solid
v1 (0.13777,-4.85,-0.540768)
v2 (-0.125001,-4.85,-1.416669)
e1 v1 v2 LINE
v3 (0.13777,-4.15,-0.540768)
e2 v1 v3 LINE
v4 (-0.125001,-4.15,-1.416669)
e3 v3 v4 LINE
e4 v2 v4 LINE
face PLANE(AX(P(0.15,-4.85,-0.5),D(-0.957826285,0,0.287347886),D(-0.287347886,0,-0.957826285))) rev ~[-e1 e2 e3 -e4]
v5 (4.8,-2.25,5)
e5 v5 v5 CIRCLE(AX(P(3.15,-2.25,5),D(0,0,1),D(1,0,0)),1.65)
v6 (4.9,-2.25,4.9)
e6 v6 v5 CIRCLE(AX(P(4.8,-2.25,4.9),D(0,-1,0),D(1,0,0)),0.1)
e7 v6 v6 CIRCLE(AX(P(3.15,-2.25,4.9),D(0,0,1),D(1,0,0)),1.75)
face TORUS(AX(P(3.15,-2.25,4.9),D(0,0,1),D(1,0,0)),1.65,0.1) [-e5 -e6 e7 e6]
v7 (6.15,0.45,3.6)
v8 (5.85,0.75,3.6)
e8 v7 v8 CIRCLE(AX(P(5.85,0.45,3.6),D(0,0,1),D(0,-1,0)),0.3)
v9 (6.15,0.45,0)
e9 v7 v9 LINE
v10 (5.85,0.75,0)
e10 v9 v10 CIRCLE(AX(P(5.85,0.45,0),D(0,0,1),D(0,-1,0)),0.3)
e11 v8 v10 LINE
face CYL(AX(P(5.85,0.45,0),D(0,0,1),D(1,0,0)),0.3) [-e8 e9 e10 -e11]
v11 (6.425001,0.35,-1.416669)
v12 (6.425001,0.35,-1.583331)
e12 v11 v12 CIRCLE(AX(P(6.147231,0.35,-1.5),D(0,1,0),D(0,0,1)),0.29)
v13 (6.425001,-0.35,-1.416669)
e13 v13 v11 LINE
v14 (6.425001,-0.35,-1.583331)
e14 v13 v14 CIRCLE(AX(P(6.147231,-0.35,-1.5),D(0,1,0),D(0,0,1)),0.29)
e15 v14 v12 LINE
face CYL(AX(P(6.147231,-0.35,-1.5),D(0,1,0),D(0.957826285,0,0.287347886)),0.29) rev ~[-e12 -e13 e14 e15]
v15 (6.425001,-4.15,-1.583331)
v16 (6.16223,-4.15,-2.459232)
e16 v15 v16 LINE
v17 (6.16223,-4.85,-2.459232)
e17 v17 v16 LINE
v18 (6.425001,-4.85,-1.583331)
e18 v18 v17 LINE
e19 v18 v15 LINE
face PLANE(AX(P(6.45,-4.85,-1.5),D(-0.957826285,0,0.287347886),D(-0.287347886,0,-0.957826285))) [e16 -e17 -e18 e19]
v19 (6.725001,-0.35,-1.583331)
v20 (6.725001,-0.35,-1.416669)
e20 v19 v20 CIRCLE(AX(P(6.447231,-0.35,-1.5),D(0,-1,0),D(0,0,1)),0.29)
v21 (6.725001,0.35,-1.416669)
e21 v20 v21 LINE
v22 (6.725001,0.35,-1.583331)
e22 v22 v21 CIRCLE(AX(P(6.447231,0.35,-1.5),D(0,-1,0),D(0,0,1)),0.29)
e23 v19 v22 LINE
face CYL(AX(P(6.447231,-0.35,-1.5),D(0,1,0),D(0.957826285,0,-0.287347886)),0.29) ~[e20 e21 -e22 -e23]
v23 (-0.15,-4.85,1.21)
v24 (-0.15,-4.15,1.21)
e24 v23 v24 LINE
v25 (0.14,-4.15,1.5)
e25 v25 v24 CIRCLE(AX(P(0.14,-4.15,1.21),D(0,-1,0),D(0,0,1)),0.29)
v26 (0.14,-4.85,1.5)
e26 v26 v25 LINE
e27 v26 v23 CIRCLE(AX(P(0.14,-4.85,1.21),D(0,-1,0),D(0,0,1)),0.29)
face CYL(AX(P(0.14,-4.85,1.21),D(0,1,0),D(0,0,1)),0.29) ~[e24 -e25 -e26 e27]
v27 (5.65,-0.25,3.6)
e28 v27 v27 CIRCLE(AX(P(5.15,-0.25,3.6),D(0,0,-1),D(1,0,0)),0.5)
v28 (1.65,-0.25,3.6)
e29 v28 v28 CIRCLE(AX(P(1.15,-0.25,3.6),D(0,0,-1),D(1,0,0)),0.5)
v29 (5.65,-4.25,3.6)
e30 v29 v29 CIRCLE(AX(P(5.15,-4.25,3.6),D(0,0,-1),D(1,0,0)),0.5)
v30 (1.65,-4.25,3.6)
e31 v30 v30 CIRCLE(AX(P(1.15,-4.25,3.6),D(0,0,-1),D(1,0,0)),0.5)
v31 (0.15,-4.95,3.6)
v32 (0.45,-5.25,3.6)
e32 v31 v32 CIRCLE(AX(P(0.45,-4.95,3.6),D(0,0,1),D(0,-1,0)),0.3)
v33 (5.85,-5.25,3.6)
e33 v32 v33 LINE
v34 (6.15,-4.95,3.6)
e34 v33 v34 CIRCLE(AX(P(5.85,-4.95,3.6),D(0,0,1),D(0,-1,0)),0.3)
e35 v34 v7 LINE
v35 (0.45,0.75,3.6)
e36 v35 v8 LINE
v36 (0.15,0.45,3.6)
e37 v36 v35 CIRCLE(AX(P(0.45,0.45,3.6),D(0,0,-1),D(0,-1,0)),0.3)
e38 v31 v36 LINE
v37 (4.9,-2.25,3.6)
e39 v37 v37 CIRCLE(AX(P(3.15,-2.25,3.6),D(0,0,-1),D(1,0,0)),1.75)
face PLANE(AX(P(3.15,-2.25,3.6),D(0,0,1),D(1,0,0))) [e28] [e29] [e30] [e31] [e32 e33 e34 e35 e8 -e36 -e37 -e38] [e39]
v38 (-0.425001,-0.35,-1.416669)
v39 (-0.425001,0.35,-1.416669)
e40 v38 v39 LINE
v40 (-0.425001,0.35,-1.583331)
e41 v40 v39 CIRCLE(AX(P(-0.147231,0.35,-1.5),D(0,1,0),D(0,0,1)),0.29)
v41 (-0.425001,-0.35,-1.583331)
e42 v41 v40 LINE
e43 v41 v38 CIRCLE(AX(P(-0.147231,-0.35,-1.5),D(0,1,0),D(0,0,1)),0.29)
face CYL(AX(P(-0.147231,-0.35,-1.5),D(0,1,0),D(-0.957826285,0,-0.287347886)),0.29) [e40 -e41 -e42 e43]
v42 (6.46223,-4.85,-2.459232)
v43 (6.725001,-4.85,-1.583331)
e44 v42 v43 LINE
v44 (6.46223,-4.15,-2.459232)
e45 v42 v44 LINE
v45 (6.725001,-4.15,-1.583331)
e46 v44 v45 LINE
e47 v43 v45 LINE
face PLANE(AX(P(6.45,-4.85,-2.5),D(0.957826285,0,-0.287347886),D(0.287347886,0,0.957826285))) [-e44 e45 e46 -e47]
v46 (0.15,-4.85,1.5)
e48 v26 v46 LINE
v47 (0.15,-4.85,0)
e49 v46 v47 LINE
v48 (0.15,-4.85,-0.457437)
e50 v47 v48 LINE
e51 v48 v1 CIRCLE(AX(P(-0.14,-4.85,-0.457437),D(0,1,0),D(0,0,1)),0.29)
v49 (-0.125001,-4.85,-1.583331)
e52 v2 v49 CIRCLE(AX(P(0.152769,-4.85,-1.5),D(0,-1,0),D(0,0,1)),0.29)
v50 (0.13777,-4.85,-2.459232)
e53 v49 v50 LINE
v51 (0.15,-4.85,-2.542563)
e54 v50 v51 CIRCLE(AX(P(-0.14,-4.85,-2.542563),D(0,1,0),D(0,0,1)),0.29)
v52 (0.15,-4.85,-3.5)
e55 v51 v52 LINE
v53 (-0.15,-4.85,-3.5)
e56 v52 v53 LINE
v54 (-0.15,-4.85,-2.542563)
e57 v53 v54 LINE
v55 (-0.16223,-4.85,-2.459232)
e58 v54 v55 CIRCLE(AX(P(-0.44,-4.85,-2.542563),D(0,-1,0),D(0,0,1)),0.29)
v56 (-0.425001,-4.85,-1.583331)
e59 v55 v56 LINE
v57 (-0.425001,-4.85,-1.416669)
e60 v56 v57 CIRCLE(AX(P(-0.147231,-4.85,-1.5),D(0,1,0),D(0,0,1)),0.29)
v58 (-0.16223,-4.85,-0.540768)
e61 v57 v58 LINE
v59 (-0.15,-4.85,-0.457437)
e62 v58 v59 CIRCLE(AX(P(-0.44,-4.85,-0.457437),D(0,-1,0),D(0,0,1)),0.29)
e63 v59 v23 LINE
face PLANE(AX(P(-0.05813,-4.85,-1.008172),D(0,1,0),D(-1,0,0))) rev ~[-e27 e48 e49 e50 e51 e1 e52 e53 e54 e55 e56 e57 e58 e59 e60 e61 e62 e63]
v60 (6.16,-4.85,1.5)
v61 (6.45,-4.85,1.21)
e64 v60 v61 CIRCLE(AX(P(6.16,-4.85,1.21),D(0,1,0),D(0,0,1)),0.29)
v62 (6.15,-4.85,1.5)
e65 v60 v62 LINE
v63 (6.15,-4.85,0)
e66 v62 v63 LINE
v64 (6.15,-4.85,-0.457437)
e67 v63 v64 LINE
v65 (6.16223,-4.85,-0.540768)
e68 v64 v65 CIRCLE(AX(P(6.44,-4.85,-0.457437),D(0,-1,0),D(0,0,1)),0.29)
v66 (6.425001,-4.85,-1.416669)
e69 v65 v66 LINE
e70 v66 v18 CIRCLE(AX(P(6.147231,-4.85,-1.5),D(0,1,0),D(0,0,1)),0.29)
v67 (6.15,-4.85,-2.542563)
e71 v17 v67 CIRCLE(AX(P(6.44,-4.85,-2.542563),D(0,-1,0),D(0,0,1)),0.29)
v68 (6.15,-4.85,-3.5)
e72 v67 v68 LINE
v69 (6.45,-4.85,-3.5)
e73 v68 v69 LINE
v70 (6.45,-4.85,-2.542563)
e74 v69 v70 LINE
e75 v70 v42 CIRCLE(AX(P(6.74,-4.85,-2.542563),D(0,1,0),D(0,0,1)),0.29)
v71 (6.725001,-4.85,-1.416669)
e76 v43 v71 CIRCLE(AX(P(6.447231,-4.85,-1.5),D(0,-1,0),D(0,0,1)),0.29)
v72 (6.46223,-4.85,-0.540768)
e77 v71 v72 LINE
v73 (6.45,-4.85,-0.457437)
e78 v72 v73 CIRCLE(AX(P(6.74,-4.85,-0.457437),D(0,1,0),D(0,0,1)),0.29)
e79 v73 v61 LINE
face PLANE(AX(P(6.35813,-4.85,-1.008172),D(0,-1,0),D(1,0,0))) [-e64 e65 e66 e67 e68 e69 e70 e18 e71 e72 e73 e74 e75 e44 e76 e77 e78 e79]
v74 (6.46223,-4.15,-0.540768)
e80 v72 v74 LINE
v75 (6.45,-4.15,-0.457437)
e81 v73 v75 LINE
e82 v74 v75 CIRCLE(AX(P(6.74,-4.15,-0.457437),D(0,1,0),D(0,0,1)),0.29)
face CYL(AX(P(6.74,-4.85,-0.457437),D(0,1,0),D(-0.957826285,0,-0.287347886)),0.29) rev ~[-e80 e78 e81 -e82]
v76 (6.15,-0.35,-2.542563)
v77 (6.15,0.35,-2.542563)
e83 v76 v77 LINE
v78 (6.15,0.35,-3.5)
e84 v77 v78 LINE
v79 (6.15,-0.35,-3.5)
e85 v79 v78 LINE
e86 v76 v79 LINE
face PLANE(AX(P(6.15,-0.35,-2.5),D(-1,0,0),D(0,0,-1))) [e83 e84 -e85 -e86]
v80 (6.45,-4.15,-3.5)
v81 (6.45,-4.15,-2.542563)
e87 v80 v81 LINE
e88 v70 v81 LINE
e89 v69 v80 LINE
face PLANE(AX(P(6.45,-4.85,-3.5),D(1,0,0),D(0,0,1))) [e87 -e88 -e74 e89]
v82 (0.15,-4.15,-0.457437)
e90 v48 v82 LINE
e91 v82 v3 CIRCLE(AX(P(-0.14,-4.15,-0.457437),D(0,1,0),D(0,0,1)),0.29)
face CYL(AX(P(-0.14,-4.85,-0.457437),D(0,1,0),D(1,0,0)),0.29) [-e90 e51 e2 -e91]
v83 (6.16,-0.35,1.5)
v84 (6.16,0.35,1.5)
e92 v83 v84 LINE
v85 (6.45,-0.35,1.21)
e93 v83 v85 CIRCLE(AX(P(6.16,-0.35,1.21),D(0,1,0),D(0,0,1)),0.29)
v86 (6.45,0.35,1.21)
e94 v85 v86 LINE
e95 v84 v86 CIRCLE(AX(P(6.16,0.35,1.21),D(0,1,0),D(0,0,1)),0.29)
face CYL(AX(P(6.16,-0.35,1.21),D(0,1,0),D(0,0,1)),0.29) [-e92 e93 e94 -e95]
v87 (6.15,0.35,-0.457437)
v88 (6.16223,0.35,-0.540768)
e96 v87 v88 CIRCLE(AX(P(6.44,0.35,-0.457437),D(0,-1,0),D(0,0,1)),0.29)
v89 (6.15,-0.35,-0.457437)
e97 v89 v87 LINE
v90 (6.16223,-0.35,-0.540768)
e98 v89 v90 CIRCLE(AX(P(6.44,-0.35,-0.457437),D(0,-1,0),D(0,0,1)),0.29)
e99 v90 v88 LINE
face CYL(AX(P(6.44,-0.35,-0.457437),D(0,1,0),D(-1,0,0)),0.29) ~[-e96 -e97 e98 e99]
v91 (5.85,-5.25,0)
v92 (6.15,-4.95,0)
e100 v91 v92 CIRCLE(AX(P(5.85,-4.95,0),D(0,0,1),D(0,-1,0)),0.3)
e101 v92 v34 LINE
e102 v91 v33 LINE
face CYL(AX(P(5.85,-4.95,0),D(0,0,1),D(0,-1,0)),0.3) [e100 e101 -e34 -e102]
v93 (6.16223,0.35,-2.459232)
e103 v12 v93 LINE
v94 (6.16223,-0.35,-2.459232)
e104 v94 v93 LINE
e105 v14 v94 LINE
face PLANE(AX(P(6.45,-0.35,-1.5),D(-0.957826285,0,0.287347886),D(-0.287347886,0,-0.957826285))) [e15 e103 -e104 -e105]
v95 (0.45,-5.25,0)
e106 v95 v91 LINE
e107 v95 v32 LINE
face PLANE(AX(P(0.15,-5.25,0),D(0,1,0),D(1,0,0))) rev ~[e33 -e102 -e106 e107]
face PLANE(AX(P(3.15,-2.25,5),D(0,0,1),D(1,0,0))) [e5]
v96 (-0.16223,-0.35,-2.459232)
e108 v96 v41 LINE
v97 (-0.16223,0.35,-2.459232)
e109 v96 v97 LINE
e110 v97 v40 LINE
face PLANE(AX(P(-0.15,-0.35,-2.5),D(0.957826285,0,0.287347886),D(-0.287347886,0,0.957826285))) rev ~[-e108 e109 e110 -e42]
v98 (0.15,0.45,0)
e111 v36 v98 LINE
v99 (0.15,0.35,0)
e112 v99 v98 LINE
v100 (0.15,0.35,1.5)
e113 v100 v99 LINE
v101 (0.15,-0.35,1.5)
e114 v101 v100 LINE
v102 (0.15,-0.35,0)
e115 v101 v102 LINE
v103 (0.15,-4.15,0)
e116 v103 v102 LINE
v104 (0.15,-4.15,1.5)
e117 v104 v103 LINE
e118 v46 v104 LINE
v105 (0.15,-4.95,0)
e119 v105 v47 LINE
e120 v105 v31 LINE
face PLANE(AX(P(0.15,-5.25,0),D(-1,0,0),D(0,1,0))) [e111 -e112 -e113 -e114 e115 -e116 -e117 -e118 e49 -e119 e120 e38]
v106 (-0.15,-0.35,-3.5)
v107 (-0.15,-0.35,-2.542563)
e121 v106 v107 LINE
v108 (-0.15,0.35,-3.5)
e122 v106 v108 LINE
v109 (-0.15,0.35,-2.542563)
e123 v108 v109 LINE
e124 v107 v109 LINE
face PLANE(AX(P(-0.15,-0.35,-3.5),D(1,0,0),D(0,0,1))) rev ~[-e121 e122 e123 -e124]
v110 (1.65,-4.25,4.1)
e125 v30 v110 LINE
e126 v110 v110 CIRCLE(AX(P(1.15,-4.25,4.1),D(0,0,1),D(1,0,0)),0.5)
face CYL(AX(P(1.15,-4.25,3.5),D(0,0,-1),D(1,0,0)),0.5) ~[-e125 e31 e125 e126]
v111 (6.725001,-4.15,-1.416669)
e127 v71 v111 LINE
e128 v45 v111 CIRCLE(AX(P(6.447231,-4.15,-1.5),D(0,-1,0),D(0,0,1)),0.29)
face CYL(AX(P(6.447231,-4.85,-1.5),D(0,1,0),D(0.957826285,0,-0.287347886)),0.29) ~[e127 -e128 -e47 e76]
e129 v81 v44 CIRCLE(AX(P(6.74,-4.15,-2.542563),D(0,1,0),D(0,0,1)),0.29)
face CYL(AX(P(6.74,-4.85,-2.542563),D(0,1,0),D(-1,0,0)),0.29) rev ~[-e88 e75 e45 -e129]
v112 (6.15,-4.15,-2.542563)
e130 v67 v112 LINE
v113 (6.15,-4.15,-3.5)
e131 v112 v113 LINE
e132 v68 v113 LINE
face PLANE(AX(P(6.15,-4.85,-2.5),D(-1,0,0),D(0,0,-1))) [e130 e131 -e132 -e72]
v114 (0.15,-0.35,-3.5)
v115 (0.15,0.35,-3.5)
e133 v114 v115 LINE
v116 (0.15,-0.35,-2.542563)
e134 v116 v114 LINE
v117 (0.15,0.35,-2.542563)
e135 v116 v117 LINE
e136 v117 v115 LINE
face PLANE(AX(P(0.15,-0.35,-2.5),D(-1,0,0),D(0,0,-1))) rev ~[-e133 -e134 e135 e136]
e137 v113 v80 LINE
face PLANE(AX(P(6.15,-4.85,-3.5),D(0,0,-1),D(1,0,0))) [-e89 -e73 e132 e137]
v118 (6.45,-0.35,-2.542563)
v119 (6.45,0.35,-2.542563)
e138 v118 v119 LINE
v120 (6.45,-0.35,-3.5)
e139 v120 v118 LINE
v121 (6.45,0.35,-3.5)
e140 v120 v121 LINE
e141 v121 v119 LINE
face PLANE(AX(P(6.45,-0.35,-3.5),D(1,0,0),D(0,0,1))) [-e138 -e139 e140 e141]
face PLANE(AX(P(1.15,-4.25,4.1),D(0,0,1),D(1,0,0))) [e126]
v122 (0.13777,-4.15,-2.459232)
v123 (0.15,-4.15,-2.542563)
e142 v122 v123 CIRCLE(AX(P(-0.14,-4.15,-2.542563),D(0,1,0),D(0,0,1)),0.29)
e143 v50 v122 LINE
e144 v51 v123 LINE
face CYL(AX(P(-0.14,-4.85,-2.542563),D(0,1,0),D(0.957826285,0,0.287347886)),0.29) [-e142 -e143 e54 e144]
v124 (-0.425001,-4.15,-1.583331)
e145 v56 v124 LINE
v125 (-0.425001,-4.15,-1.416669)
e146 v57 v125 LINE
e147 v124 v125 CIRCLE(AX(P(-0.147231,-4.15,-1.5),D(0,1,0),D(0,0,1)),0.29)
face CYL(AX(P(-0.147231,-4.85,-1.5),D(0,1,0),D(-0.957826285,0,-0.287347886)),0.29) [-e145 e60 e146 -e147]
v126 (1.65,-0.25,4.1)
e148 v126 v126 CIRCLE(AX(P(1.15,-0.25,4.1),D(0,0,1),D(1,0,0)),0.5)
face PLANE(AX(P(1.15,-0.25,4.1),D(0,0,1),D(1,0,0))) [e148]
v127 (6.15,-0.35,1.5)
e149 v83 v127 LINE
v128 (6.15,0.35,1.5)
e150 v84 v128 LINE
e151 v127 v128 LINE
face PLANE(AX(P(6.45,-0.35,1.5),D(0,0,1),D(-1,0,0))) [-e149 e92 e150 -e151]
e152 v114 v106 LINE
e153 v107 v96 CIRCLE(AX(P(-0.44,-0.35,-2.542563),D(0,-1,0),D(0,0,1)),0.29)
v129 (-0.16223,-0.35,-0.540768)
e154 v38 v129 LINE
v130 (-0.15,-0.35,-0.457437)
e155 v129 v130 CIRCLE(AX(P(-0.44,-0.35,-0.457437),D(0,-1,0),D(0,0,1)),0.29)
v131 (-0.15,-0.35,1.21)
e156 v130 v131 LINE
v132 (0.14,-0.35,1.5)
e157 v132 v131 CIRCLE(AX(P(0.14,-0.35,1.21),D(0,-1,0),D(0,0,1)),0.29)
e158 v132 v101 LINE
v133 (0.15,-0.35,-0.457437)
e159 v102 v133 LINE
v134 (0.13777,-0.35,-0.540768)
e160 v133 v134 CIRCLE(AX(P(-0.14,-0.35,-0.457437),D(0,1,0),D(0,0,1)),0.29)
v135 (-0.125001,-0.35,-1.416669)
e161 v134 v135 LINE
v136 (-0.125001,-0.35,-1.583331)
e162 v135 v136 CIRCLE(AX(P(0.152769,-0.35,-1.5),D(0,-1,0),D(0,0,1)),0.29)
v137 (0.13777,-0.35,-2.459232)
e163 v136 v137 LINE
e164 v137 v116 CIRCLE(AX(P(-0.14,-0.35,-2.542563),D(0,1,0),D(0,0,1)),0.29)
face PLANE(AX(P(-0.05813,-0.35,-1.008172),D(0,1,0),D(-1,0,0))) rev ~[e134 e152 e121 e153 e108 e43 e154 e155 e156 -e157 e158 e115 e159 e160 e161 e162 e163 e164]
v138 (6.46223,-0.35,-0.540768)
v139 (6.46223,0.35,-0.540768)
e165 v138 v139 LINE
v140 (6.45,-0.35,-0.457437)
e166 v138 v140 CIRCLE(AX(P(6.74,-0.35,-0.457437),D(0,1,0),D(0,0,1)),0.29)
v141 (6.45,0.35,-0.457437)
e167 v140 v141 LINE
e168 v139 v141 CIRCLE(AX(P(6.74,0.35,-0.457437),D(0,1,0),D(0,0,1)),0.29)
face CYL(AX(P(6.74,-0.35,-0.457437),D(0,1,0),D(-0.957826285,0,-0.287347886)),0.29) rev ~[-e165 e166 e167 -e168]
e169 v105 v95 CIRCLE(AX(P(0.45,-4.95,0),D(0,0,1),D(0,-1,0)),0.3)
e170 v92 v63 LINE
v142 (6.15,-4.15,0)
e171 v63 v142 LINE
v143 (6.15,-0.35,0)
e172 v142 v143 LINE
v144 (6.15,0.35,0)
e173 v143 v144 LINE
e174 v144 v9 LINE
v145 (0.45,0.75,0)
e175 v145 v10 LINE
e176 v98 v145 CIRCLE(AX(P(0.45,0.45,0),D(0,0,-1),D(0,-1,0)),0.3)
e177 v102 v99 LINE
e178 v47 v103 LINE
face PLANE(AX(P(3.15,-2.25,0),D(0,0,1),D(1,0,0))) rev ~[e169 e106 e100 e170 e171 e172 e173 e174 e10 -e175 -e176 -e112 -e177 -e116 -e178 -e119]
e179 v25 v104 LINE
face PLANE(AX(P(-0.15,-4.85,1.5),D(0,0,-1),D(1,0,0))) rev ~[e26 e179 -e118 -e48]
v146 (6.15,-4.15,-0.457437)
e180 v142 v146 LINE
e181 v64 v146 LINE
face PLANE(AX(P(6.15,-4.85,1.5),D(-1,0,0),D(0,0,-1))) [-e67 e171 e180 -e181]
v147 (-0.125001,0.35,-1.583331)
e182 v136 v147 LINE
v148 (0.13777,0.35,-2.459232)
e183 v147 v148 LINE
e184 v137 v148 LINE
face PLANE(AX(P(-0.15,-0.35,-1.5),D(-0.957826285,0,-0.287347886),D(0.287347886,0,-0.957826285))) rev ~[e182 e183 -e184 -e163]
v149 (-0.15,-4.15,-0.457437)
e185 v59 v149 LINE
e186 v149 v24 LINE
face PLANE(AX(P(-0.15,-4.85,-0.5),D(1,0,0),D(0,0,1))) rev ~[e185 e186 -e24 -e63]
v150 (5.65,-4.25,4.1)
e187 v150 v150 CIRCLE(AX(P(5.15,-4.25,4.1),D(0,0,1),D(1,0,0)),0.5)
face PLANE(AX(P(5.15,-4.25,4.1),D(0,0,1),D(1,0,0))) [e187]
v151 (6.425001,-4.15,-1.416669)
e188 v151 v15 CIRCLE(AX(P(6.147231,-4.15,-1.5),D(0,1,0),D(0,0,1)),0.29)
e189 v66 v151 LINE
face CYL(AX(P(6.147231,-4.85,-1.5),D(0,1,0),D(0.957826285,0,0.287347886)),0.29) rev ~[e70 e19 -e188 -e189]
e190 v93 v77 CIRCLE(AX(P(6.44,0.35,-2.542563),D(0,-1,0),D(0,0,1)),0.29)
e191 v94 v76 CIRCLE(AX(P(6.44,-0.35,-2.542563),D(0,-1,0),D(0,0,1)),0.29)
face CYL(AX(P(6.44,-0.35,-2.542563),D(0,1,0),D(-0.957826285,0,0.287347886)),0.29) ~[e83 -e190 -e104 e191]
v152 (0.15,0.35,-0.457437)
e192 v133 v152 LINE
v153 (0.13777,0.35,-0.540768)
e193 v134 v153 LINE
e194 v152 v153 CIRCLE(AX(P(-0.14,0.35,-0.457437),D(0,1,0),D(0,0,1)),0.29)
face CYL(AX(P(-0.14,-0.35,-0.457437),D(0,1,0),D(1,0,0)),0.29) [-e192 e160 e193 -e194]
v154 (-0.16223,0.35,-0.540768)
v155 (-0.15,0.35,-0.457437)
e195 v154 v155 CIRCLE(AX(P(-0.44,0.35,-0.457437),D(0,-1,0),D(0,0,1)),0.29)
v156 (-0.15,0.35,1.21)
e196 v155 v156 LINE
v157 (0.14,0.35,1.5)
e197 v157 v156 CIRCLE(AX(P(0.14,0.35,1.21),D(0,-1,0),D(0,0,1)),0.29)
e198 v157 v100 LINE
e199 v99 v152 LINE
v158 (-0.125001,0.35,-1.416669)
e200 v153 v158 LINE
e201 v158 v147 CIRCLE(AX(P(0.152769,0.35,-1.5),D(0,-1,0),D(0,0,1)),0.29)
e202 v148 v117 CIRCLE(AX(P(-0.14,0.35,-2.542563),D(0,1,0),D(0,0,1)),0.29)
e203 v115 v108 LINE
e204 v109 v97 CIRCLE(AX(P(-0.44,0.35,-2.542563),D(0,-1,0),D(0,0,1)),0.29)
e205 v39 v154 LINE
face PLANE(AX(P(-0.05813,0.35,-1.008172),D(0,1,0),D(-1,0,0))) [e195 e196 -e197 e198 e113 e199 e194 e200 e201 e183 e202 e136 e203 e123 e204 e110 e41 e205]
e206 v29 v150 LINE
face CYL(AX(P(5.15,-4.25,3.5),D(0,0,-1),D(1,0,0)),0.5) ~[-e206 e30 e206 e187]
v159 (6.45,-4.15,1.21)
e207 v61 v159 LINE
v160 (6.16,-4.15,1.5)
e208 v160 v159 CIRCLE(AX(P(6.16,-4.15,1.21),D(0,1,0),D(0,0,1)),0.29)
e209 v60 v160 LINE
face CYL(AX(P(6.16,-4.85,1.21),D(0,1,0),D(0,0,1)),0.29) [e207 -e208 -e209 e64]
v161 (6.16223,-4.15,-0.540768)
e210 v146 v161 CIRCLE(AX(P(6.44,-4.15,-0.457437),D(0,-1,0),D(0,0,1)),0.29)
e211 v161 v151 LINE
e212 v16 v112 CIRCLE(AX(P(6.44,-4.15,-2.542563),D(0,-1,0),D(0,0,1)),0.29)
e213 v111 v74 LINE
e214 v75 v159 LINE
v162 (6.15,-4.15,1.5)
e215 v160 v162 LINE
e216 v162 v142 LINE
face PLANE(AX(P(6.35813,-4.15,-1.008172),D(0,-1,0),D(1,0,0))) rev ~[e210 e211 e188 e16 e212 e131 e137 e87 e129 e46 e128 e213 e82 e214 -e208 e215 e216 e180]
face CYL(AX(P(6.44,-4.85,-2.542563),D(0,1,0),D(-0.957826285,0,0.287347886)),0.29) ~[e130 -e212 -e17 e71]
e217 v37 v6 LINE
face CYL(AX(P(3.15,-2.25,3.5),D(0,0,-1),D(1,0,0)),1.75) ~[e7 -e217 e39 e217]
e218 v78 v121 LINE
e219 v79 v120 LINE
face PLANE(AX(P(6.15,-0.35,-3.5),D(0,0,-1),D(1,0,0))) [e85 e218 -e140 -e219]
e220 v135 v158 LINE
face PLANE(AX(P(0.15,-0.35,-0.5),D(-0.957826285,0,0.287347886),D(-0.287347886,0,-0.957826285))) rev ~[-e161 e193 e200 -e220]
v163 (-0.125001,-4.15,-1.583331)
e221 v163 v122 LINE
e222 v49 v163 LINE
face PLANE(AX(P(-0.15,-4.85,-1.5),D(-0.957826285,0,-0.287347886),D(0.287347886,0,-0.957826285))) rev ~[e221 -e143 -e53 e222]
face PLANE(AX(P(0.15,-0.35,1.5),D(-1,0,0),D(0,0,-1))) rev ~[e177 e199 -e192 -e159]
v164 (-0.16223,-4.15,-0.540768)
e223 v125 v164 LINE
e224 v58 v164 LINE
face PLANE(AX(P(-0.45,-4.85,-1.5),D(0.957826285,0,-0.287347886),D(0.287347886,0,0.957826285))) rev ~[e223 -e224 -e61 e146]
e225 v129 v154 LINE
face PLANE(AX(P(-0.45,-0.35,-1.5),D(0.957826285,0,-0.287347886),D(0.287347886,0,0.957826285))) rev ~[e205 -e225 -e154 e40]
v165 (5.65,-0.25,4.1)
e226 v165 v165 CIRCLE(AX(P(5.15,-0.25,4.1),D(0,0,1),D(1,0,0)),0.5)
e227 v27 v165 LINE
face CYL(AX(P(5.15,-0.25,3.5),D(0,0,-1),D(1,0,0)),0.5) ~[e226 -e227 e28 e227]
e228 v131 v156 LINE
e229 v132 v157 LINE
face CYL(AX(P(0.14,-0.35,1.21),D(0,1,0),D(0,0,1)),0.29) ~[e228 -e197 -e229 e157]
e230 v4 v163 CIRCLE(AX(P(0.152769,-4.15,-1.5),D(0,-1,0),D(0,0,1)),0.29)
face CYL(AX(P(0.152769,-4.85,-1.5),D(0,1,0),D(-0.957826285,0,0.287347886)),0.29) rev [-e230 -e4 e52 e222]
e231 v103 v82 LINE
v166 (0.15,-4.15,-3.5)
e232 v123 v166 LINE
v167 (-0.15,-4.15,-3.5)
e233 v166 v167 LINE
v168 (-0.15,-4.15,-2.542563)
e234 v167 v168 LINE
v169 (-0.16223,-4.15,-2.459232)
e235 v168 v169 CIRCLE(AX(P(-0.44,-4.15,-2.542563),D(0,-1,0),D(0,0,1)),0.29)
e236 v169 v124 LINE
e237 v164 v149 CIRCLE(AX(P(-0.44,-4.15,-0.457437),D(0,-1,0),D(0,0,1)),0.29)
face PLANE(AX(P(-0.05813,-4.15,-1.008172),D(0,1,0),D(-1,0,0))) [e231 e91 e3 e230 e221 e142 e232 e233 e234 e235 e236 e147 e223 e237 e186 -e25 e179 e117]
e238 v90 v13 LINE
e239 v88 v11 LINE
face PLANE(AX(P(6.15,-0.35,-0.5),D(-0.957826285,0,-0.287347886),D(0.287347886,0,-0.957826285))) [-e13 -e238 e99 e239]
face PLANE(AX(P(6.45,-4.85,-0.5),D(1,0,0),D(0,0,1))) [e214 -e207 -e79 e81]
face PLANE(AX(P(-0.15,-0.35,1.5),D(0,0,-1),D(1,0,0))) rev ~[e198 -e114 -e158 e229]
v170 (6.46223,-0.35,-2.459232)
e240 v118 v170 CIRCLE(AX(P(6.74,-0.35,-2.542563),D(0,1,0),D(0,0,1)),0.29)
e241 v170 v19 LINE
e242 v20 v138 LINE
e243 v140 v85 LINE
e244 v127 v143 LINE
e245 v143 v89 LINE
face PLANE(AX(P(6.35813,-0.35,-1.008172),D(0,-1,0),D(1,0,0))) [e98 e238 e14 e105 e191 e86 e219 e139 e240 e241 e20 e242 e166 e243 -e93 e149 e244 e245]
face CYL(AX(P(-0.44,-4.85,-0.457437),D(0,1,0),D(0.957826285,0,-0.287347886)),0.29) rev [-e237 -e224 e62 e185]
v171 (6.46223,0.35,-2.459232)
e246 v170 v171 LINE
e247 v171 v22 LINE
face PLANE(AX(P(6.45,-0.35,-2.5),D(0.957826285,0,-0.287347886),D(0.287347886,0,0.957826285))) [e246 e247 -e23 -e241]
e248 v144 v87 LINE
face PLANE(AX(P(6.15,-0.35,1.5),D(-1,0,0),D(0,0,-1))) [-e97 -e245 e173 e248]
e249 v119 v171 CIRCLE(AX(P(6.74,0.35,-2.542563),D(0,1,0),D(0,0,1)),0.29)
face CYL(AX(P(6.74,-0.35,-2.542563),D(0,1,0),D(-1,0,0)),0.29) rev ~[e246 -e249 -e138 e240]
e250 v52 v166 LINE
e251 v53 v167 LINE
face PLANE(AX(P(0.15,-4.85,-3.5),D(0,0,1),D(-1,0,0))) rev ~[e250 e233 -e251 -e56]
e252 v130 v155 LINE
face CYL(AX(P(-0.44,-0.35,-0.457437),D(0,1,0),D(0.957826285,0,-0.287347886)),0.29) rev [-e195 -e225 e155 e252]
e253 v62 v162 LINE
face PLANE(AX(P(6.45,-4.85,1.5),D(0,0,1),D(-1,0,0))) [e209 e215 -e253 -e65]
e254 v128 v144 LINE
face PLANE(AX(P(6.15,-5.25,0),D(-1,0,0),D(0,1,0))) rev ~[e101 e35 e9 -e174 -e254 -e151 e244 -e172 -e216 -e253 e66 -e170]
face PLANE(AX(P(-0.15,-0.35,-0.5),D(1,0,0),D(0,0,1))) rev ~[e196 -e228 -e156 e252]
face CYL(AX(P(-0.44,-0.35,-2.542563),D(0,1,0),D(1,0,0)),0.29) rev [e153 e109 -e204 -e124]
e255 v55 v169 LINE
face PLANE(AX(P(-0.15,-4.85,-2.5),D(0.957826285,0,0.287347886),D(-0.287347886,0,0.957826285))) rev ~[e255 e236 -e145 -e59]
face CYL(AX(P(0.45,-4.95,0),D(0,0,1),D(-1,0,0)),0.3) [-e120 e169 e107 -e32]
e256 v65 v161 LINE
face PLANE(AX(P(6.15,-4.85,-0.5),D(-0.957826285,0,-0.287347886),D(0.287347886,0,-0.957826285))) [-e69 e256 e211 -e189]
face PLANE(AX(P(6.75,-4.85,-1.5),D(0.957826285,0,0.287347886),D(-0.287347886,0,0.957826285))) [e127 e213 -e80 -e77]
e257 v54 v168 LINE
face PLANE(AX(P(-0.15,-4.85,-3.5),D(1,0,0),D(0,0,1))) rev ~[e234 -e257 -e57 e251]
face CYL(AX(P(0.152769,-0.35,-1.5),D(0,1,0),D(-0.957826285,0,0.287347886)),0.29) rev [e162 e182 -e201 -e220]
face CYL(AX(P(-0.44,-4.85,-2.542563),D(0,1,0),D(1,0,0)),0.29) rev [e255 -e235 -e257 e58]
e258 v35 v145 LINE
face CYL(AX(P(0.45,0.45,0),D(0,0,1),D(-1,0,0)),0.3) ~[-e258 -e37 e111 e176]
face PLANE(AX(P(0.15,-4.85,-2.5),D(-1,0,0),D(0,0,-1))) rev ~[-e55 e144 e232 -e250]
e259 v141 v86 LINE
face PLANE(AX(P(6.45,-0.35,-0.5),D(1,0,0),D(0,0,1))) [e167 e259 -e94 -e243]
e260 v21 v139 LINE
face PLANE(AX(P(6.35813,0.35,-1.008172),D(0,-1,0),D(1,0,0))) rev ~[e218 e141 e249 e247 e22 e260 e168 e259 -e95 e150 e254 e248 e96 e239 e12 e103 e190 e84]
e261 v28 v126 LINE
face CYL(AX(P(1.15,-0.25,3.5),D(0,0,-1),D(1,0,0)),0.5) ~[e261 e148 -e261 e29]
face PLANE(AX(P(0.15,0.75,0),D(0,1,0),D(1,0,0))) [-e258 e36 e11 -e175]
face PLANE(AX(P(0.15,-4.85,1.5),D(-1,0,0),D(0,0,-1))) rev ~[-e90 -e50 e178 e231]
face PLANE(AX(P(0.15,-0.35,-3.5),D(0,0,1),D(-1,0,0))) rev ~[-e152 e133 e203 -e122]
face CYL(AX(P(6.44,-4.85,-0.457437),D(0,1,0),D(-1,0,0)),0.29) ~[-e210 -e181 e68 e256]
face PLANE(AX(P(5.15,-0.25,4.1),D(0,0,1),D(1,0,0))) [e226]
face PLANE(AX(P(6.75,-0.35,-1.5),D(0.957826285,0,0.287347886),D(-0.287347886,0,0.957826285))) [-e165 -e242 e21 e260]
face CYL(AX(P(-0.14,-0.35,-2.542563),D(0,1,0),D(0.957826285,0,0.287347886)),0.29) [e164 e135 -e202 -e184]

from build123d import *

# Parameters (mm, degrees)
SKETCH001_W  = 6
SKETCH001_H  = 6
PAD001_DEPTH = 0.1
FILLET001_R  = 0.3
PAD008_DEPTH = 0.7
FILLET003_R  = 0.29
PAD009_DEPTH = 0.7
FILLET004_R  = 0.29
PAD010_DEPTH = 0.7
FILLET005_R  = 0.29
SKETCH_W     = 6
SKETCH_H     = 6
PAD_DEPTH    = 3.5
FILLET_R     = 0.3
SKETCH004_R  = 0.5
PAD003_DEPTH = 0.6
SKETCH003_R  = 0.5
PAD004_DEPTH = 0.6
SKETCH005_R  = 0.5
PAD002_DEPTH = 0.6
SKETCH002_R  = 0.5
PAD005_DEPTH = 0.6
SKETCH006_R  = 1.75
PAD006_DEPTH = 1.5
FILLET006_R  = 0.1
PAD007_DEPTH = 0.7
FILLET002_R  = 0.29


with BuildPart() as fillet001:
    # Sketch001 → Pad001 (new body)
    with BuildSketch(Plane.XY.offset(3.5)):
        with Locations((3.15, -2.25)):
            Rectangle(SKETCH001_W, SKETCH001_H)
    extrude(amount=PAD001_DEPTH)

    # Fillet001
    fillet001_edges = [fillet001.edges().sort_by_distance(p)[0] for p in [
        (6.15, -5.25, 3.55),
        (0.15, -5.25, 3.55),
        (6.15, 0.75, 3.55),
        (0.15, 0.75, 3.55),
    ]]
    fillet(fillet001_edges, radius=FILLET001_R)


with BuildPart() as fillet003:
    # Sketch008 → Pad008 (new body)
    with BuildSketch(Plane.XZ.offset(0.35)):
        Polygon((-0.15, 1.5), (0.15, 1.5), (0.15, -0.5), (-0.15, -1.5), (0.15, -2.5), (0.15, -3.5), (-0.15, -3.5), (-0.15, -2.5), (-0.45, -1.5), (-0.15, -0.5), align=None)
    extrude(amount=-PAD008_DEPTH)

    # Fillet003
    fillet003_edges = [fillet003.edges().sort_by_distance(p)[0] for p in [
        (-0.15, 0, -2.5),
        (-0.15, 0, -0.5),
        (-0.45, 0, -1.5),
        (-0.15, 0, 1.5),
        (0.15, 0, -0.5),
        (-0.15, 0, -1.5),
        (0.15, 0, -2.5),
    ]]
    fillet(fillet003_edges, radius=FILLET003_R)


with BuildPart() as fillet004:
    # Sketch009 → Pad009 (new body)
    with BuildSketch(Plane.XZ.offset(4.85)):
        Polygon((6.45, 1.5), (6.15, 1.5), (6.15, -0.5), (6.45, -1.5), (6.15, -2.5), (6.15, -3.5), (6.45, -3.5), (6.45, -2.5), (6.75, -1.5), (6.45, -0.5), align=None)
    extrude(amount=-PAD009_DEPTH)

    # Fillet004
    fillet004_edges = [fillet004.edges().sort_by_distance(p)[0] for p in [
        (6.45, -4.5, -2.5),
        (6.45, -4.5, -0.5),
        (6.75, -4.5, -1.5),
        (6.45, -4.5, 1.5),
        (6.15, -4.5, -0.5),
        (6.45, -4.5, -1.5),
        (6.15, -4.5, -2.5),
    ]]
    fillet(fillet004_edges, radius=FILLET004_R)


with BuildPart() as fillet005:
    # Sketch010 → Pad010 (new body)
    with BuildSketch(Plane.XZ.offset(0.35)):
        Polygon((6.45, 1.5), (6.15, 1.5), (6.15, -0.5), (6.45, -1.5), (6.15, -2.5), (6.15, -3.5), (6.45, -3.5), (6.45, -2.5), (6.75, -1.5), (6.45, -0.5), align=None)
    extrude(amount=-PAD010_DEPTH)

    # Fillet005
    fillet005_edges = [fillet005.edges().sort_by_distance(p)[0] for p in [
        (6.45, 0, -2.5),
        (6.45, 0, -0.5),
        (6.75, 0, -1.5),
        (6.45, 0, 1.5),
        (6.15, 0, -0.5),
        (6.45, 0, -1.5),
        (6.15, 0, -2.5),
    ]]
    fillet(fillet005_edges, radius=FILLET005_R)


with BuildPart() as fillet_body:
    # Sketch → Pad (new body)
    with BuildSketch(Plane.XY):
        with Locations((3.15, -2.25)):
            Rectangle(SKETCH_W, SKETCH_H)
    extrude(amount=PAD_DEPTH)

    # Fillet
    fillet_edges = [fillet_body.edges().sort_by_distance(p)[0] for p in [
        (6.15, 0.75, 1.75),
        (6.15, -5.25, 1.75),
        (0.15, -5.25, 1.75),
        (0.15, 0.75, 1.75),
    ]]
    fillet(fillet_edges, radius=FILLET_R)


with BuildPart() as pad003:
    # Pad003 base: copy of Fillet body
    add(fillet_body.part)

    # Sketch004 → Pad003 (new body)
    with BuildSketch(Plane.XY.offset(3.5)):
        with Locations((5.15, -0.25)):
            Circle(SKETCH004_R)
    extrude(amount=PAD003_DEPTH)


with BuildPart() as pad004:
    # Pad004 base: copy of Fillet body
    add(fillet_body.part)

    # Sketch003 → Pad004 (new body)
    with BuildSketch(Plane.XY.offset(3.5)):
        with Locations((5.15, -4.25)):
            Circle(SKETCH003_R)
    extrude(amount=PAD004_DEPTH)


with BuildPart() as pad002:
    # Pad002 base: copy of Fillet body
    add(fillet_body.part)

    # Sketch005 → Pad002 (new body)
    with BuildSketch(Plane.XY.offset(3.5)):
        with Locations((1.15, -0.25)):
            Circle(SKETCH005_R)
    extrude(amount=PAD002_DEPTH)


with BuildPart() as pad005:
    # Pad005 base: copy of Fillet body
    add(fillet_body.part)

    # Sketch002 → Pad005 (new body)
    with BuildSketch(Plane.XY.offset(3.5)):
        with Locations((1.15, -4.25)):
            Circle(SKETCH002_R)
    extrude(amount=PAD005_DEPTH)


with BuildPart() as fillet006:
    # Pad006 base: copy of Fillet body
    add(fillet_body.part)

    # Sketch006 → Pad006 (new body)
    with BuildSketch(Plane.XY.offset(3.5)):
        with Locations((3.15, -2.25)):
            Circle(SKETCH006_R)
    extrude(amount=PAD006_DEPTH)

    # Fillet006
    fillet006_edges = [fillet006.edges().sort_by_distance(p)[0] for p in [
        (1.4, -2.25, 5),
    ]]
    fillet(fillet006_edges, radius=FILLET006_R)


with BuildPart() as sw_push_6mm_h5mm:
    # Sketch007 → Pad007 (new body)
    with BuildSketch(Plane.XZ.offset(4.85)):
        Polygon((-0.15, 1.5), (0.15, 1.5), (0.15, -0.5), (-0.15, -1.5), (0.15, -2.5), (0.15, -3.5), (-0.15, -3.5), (-0.15, -2.5), (-0.45, -1.5), (-0.15, -0.5), align=None)
    extrude(amount=-PAD007_DEPTH)

    # Fillet002
    fillet002_edges = [sw_push_6mm_h5mm.edges().sort_by_distance(p)[0] for p in [
        (-0.15, -4.5, -2.5),
        (-0.15, -4.5, -0.5),
        (-0.45, -4.5, -1.5),
        (-0.15, -4.5, 1.5),
        (0.15, -4.5, -0.5),
        (-0.15, -4.5, -1.5),
        (0.15, -4.5, -2.5),
    ]]
    fillet(fillet002_edges, radius=FILLET002_R)

    # Fillet002_mp_cp: union Fillet001, Fillet003, Fillet004, Fillet005, Pad003, Pad004, Pad002, Pad005, Fillet006
    add(fillet001.part)
    add(fillet003.part)
    add(fillet004.part)
    add(fillet005.part)
    add(pad003.part)
    add(pad004.part)
    add(pad002.part)
    add(pad005.part)
    add(fillet006.part)


solid = sw_push_6mm_h5mm.part
